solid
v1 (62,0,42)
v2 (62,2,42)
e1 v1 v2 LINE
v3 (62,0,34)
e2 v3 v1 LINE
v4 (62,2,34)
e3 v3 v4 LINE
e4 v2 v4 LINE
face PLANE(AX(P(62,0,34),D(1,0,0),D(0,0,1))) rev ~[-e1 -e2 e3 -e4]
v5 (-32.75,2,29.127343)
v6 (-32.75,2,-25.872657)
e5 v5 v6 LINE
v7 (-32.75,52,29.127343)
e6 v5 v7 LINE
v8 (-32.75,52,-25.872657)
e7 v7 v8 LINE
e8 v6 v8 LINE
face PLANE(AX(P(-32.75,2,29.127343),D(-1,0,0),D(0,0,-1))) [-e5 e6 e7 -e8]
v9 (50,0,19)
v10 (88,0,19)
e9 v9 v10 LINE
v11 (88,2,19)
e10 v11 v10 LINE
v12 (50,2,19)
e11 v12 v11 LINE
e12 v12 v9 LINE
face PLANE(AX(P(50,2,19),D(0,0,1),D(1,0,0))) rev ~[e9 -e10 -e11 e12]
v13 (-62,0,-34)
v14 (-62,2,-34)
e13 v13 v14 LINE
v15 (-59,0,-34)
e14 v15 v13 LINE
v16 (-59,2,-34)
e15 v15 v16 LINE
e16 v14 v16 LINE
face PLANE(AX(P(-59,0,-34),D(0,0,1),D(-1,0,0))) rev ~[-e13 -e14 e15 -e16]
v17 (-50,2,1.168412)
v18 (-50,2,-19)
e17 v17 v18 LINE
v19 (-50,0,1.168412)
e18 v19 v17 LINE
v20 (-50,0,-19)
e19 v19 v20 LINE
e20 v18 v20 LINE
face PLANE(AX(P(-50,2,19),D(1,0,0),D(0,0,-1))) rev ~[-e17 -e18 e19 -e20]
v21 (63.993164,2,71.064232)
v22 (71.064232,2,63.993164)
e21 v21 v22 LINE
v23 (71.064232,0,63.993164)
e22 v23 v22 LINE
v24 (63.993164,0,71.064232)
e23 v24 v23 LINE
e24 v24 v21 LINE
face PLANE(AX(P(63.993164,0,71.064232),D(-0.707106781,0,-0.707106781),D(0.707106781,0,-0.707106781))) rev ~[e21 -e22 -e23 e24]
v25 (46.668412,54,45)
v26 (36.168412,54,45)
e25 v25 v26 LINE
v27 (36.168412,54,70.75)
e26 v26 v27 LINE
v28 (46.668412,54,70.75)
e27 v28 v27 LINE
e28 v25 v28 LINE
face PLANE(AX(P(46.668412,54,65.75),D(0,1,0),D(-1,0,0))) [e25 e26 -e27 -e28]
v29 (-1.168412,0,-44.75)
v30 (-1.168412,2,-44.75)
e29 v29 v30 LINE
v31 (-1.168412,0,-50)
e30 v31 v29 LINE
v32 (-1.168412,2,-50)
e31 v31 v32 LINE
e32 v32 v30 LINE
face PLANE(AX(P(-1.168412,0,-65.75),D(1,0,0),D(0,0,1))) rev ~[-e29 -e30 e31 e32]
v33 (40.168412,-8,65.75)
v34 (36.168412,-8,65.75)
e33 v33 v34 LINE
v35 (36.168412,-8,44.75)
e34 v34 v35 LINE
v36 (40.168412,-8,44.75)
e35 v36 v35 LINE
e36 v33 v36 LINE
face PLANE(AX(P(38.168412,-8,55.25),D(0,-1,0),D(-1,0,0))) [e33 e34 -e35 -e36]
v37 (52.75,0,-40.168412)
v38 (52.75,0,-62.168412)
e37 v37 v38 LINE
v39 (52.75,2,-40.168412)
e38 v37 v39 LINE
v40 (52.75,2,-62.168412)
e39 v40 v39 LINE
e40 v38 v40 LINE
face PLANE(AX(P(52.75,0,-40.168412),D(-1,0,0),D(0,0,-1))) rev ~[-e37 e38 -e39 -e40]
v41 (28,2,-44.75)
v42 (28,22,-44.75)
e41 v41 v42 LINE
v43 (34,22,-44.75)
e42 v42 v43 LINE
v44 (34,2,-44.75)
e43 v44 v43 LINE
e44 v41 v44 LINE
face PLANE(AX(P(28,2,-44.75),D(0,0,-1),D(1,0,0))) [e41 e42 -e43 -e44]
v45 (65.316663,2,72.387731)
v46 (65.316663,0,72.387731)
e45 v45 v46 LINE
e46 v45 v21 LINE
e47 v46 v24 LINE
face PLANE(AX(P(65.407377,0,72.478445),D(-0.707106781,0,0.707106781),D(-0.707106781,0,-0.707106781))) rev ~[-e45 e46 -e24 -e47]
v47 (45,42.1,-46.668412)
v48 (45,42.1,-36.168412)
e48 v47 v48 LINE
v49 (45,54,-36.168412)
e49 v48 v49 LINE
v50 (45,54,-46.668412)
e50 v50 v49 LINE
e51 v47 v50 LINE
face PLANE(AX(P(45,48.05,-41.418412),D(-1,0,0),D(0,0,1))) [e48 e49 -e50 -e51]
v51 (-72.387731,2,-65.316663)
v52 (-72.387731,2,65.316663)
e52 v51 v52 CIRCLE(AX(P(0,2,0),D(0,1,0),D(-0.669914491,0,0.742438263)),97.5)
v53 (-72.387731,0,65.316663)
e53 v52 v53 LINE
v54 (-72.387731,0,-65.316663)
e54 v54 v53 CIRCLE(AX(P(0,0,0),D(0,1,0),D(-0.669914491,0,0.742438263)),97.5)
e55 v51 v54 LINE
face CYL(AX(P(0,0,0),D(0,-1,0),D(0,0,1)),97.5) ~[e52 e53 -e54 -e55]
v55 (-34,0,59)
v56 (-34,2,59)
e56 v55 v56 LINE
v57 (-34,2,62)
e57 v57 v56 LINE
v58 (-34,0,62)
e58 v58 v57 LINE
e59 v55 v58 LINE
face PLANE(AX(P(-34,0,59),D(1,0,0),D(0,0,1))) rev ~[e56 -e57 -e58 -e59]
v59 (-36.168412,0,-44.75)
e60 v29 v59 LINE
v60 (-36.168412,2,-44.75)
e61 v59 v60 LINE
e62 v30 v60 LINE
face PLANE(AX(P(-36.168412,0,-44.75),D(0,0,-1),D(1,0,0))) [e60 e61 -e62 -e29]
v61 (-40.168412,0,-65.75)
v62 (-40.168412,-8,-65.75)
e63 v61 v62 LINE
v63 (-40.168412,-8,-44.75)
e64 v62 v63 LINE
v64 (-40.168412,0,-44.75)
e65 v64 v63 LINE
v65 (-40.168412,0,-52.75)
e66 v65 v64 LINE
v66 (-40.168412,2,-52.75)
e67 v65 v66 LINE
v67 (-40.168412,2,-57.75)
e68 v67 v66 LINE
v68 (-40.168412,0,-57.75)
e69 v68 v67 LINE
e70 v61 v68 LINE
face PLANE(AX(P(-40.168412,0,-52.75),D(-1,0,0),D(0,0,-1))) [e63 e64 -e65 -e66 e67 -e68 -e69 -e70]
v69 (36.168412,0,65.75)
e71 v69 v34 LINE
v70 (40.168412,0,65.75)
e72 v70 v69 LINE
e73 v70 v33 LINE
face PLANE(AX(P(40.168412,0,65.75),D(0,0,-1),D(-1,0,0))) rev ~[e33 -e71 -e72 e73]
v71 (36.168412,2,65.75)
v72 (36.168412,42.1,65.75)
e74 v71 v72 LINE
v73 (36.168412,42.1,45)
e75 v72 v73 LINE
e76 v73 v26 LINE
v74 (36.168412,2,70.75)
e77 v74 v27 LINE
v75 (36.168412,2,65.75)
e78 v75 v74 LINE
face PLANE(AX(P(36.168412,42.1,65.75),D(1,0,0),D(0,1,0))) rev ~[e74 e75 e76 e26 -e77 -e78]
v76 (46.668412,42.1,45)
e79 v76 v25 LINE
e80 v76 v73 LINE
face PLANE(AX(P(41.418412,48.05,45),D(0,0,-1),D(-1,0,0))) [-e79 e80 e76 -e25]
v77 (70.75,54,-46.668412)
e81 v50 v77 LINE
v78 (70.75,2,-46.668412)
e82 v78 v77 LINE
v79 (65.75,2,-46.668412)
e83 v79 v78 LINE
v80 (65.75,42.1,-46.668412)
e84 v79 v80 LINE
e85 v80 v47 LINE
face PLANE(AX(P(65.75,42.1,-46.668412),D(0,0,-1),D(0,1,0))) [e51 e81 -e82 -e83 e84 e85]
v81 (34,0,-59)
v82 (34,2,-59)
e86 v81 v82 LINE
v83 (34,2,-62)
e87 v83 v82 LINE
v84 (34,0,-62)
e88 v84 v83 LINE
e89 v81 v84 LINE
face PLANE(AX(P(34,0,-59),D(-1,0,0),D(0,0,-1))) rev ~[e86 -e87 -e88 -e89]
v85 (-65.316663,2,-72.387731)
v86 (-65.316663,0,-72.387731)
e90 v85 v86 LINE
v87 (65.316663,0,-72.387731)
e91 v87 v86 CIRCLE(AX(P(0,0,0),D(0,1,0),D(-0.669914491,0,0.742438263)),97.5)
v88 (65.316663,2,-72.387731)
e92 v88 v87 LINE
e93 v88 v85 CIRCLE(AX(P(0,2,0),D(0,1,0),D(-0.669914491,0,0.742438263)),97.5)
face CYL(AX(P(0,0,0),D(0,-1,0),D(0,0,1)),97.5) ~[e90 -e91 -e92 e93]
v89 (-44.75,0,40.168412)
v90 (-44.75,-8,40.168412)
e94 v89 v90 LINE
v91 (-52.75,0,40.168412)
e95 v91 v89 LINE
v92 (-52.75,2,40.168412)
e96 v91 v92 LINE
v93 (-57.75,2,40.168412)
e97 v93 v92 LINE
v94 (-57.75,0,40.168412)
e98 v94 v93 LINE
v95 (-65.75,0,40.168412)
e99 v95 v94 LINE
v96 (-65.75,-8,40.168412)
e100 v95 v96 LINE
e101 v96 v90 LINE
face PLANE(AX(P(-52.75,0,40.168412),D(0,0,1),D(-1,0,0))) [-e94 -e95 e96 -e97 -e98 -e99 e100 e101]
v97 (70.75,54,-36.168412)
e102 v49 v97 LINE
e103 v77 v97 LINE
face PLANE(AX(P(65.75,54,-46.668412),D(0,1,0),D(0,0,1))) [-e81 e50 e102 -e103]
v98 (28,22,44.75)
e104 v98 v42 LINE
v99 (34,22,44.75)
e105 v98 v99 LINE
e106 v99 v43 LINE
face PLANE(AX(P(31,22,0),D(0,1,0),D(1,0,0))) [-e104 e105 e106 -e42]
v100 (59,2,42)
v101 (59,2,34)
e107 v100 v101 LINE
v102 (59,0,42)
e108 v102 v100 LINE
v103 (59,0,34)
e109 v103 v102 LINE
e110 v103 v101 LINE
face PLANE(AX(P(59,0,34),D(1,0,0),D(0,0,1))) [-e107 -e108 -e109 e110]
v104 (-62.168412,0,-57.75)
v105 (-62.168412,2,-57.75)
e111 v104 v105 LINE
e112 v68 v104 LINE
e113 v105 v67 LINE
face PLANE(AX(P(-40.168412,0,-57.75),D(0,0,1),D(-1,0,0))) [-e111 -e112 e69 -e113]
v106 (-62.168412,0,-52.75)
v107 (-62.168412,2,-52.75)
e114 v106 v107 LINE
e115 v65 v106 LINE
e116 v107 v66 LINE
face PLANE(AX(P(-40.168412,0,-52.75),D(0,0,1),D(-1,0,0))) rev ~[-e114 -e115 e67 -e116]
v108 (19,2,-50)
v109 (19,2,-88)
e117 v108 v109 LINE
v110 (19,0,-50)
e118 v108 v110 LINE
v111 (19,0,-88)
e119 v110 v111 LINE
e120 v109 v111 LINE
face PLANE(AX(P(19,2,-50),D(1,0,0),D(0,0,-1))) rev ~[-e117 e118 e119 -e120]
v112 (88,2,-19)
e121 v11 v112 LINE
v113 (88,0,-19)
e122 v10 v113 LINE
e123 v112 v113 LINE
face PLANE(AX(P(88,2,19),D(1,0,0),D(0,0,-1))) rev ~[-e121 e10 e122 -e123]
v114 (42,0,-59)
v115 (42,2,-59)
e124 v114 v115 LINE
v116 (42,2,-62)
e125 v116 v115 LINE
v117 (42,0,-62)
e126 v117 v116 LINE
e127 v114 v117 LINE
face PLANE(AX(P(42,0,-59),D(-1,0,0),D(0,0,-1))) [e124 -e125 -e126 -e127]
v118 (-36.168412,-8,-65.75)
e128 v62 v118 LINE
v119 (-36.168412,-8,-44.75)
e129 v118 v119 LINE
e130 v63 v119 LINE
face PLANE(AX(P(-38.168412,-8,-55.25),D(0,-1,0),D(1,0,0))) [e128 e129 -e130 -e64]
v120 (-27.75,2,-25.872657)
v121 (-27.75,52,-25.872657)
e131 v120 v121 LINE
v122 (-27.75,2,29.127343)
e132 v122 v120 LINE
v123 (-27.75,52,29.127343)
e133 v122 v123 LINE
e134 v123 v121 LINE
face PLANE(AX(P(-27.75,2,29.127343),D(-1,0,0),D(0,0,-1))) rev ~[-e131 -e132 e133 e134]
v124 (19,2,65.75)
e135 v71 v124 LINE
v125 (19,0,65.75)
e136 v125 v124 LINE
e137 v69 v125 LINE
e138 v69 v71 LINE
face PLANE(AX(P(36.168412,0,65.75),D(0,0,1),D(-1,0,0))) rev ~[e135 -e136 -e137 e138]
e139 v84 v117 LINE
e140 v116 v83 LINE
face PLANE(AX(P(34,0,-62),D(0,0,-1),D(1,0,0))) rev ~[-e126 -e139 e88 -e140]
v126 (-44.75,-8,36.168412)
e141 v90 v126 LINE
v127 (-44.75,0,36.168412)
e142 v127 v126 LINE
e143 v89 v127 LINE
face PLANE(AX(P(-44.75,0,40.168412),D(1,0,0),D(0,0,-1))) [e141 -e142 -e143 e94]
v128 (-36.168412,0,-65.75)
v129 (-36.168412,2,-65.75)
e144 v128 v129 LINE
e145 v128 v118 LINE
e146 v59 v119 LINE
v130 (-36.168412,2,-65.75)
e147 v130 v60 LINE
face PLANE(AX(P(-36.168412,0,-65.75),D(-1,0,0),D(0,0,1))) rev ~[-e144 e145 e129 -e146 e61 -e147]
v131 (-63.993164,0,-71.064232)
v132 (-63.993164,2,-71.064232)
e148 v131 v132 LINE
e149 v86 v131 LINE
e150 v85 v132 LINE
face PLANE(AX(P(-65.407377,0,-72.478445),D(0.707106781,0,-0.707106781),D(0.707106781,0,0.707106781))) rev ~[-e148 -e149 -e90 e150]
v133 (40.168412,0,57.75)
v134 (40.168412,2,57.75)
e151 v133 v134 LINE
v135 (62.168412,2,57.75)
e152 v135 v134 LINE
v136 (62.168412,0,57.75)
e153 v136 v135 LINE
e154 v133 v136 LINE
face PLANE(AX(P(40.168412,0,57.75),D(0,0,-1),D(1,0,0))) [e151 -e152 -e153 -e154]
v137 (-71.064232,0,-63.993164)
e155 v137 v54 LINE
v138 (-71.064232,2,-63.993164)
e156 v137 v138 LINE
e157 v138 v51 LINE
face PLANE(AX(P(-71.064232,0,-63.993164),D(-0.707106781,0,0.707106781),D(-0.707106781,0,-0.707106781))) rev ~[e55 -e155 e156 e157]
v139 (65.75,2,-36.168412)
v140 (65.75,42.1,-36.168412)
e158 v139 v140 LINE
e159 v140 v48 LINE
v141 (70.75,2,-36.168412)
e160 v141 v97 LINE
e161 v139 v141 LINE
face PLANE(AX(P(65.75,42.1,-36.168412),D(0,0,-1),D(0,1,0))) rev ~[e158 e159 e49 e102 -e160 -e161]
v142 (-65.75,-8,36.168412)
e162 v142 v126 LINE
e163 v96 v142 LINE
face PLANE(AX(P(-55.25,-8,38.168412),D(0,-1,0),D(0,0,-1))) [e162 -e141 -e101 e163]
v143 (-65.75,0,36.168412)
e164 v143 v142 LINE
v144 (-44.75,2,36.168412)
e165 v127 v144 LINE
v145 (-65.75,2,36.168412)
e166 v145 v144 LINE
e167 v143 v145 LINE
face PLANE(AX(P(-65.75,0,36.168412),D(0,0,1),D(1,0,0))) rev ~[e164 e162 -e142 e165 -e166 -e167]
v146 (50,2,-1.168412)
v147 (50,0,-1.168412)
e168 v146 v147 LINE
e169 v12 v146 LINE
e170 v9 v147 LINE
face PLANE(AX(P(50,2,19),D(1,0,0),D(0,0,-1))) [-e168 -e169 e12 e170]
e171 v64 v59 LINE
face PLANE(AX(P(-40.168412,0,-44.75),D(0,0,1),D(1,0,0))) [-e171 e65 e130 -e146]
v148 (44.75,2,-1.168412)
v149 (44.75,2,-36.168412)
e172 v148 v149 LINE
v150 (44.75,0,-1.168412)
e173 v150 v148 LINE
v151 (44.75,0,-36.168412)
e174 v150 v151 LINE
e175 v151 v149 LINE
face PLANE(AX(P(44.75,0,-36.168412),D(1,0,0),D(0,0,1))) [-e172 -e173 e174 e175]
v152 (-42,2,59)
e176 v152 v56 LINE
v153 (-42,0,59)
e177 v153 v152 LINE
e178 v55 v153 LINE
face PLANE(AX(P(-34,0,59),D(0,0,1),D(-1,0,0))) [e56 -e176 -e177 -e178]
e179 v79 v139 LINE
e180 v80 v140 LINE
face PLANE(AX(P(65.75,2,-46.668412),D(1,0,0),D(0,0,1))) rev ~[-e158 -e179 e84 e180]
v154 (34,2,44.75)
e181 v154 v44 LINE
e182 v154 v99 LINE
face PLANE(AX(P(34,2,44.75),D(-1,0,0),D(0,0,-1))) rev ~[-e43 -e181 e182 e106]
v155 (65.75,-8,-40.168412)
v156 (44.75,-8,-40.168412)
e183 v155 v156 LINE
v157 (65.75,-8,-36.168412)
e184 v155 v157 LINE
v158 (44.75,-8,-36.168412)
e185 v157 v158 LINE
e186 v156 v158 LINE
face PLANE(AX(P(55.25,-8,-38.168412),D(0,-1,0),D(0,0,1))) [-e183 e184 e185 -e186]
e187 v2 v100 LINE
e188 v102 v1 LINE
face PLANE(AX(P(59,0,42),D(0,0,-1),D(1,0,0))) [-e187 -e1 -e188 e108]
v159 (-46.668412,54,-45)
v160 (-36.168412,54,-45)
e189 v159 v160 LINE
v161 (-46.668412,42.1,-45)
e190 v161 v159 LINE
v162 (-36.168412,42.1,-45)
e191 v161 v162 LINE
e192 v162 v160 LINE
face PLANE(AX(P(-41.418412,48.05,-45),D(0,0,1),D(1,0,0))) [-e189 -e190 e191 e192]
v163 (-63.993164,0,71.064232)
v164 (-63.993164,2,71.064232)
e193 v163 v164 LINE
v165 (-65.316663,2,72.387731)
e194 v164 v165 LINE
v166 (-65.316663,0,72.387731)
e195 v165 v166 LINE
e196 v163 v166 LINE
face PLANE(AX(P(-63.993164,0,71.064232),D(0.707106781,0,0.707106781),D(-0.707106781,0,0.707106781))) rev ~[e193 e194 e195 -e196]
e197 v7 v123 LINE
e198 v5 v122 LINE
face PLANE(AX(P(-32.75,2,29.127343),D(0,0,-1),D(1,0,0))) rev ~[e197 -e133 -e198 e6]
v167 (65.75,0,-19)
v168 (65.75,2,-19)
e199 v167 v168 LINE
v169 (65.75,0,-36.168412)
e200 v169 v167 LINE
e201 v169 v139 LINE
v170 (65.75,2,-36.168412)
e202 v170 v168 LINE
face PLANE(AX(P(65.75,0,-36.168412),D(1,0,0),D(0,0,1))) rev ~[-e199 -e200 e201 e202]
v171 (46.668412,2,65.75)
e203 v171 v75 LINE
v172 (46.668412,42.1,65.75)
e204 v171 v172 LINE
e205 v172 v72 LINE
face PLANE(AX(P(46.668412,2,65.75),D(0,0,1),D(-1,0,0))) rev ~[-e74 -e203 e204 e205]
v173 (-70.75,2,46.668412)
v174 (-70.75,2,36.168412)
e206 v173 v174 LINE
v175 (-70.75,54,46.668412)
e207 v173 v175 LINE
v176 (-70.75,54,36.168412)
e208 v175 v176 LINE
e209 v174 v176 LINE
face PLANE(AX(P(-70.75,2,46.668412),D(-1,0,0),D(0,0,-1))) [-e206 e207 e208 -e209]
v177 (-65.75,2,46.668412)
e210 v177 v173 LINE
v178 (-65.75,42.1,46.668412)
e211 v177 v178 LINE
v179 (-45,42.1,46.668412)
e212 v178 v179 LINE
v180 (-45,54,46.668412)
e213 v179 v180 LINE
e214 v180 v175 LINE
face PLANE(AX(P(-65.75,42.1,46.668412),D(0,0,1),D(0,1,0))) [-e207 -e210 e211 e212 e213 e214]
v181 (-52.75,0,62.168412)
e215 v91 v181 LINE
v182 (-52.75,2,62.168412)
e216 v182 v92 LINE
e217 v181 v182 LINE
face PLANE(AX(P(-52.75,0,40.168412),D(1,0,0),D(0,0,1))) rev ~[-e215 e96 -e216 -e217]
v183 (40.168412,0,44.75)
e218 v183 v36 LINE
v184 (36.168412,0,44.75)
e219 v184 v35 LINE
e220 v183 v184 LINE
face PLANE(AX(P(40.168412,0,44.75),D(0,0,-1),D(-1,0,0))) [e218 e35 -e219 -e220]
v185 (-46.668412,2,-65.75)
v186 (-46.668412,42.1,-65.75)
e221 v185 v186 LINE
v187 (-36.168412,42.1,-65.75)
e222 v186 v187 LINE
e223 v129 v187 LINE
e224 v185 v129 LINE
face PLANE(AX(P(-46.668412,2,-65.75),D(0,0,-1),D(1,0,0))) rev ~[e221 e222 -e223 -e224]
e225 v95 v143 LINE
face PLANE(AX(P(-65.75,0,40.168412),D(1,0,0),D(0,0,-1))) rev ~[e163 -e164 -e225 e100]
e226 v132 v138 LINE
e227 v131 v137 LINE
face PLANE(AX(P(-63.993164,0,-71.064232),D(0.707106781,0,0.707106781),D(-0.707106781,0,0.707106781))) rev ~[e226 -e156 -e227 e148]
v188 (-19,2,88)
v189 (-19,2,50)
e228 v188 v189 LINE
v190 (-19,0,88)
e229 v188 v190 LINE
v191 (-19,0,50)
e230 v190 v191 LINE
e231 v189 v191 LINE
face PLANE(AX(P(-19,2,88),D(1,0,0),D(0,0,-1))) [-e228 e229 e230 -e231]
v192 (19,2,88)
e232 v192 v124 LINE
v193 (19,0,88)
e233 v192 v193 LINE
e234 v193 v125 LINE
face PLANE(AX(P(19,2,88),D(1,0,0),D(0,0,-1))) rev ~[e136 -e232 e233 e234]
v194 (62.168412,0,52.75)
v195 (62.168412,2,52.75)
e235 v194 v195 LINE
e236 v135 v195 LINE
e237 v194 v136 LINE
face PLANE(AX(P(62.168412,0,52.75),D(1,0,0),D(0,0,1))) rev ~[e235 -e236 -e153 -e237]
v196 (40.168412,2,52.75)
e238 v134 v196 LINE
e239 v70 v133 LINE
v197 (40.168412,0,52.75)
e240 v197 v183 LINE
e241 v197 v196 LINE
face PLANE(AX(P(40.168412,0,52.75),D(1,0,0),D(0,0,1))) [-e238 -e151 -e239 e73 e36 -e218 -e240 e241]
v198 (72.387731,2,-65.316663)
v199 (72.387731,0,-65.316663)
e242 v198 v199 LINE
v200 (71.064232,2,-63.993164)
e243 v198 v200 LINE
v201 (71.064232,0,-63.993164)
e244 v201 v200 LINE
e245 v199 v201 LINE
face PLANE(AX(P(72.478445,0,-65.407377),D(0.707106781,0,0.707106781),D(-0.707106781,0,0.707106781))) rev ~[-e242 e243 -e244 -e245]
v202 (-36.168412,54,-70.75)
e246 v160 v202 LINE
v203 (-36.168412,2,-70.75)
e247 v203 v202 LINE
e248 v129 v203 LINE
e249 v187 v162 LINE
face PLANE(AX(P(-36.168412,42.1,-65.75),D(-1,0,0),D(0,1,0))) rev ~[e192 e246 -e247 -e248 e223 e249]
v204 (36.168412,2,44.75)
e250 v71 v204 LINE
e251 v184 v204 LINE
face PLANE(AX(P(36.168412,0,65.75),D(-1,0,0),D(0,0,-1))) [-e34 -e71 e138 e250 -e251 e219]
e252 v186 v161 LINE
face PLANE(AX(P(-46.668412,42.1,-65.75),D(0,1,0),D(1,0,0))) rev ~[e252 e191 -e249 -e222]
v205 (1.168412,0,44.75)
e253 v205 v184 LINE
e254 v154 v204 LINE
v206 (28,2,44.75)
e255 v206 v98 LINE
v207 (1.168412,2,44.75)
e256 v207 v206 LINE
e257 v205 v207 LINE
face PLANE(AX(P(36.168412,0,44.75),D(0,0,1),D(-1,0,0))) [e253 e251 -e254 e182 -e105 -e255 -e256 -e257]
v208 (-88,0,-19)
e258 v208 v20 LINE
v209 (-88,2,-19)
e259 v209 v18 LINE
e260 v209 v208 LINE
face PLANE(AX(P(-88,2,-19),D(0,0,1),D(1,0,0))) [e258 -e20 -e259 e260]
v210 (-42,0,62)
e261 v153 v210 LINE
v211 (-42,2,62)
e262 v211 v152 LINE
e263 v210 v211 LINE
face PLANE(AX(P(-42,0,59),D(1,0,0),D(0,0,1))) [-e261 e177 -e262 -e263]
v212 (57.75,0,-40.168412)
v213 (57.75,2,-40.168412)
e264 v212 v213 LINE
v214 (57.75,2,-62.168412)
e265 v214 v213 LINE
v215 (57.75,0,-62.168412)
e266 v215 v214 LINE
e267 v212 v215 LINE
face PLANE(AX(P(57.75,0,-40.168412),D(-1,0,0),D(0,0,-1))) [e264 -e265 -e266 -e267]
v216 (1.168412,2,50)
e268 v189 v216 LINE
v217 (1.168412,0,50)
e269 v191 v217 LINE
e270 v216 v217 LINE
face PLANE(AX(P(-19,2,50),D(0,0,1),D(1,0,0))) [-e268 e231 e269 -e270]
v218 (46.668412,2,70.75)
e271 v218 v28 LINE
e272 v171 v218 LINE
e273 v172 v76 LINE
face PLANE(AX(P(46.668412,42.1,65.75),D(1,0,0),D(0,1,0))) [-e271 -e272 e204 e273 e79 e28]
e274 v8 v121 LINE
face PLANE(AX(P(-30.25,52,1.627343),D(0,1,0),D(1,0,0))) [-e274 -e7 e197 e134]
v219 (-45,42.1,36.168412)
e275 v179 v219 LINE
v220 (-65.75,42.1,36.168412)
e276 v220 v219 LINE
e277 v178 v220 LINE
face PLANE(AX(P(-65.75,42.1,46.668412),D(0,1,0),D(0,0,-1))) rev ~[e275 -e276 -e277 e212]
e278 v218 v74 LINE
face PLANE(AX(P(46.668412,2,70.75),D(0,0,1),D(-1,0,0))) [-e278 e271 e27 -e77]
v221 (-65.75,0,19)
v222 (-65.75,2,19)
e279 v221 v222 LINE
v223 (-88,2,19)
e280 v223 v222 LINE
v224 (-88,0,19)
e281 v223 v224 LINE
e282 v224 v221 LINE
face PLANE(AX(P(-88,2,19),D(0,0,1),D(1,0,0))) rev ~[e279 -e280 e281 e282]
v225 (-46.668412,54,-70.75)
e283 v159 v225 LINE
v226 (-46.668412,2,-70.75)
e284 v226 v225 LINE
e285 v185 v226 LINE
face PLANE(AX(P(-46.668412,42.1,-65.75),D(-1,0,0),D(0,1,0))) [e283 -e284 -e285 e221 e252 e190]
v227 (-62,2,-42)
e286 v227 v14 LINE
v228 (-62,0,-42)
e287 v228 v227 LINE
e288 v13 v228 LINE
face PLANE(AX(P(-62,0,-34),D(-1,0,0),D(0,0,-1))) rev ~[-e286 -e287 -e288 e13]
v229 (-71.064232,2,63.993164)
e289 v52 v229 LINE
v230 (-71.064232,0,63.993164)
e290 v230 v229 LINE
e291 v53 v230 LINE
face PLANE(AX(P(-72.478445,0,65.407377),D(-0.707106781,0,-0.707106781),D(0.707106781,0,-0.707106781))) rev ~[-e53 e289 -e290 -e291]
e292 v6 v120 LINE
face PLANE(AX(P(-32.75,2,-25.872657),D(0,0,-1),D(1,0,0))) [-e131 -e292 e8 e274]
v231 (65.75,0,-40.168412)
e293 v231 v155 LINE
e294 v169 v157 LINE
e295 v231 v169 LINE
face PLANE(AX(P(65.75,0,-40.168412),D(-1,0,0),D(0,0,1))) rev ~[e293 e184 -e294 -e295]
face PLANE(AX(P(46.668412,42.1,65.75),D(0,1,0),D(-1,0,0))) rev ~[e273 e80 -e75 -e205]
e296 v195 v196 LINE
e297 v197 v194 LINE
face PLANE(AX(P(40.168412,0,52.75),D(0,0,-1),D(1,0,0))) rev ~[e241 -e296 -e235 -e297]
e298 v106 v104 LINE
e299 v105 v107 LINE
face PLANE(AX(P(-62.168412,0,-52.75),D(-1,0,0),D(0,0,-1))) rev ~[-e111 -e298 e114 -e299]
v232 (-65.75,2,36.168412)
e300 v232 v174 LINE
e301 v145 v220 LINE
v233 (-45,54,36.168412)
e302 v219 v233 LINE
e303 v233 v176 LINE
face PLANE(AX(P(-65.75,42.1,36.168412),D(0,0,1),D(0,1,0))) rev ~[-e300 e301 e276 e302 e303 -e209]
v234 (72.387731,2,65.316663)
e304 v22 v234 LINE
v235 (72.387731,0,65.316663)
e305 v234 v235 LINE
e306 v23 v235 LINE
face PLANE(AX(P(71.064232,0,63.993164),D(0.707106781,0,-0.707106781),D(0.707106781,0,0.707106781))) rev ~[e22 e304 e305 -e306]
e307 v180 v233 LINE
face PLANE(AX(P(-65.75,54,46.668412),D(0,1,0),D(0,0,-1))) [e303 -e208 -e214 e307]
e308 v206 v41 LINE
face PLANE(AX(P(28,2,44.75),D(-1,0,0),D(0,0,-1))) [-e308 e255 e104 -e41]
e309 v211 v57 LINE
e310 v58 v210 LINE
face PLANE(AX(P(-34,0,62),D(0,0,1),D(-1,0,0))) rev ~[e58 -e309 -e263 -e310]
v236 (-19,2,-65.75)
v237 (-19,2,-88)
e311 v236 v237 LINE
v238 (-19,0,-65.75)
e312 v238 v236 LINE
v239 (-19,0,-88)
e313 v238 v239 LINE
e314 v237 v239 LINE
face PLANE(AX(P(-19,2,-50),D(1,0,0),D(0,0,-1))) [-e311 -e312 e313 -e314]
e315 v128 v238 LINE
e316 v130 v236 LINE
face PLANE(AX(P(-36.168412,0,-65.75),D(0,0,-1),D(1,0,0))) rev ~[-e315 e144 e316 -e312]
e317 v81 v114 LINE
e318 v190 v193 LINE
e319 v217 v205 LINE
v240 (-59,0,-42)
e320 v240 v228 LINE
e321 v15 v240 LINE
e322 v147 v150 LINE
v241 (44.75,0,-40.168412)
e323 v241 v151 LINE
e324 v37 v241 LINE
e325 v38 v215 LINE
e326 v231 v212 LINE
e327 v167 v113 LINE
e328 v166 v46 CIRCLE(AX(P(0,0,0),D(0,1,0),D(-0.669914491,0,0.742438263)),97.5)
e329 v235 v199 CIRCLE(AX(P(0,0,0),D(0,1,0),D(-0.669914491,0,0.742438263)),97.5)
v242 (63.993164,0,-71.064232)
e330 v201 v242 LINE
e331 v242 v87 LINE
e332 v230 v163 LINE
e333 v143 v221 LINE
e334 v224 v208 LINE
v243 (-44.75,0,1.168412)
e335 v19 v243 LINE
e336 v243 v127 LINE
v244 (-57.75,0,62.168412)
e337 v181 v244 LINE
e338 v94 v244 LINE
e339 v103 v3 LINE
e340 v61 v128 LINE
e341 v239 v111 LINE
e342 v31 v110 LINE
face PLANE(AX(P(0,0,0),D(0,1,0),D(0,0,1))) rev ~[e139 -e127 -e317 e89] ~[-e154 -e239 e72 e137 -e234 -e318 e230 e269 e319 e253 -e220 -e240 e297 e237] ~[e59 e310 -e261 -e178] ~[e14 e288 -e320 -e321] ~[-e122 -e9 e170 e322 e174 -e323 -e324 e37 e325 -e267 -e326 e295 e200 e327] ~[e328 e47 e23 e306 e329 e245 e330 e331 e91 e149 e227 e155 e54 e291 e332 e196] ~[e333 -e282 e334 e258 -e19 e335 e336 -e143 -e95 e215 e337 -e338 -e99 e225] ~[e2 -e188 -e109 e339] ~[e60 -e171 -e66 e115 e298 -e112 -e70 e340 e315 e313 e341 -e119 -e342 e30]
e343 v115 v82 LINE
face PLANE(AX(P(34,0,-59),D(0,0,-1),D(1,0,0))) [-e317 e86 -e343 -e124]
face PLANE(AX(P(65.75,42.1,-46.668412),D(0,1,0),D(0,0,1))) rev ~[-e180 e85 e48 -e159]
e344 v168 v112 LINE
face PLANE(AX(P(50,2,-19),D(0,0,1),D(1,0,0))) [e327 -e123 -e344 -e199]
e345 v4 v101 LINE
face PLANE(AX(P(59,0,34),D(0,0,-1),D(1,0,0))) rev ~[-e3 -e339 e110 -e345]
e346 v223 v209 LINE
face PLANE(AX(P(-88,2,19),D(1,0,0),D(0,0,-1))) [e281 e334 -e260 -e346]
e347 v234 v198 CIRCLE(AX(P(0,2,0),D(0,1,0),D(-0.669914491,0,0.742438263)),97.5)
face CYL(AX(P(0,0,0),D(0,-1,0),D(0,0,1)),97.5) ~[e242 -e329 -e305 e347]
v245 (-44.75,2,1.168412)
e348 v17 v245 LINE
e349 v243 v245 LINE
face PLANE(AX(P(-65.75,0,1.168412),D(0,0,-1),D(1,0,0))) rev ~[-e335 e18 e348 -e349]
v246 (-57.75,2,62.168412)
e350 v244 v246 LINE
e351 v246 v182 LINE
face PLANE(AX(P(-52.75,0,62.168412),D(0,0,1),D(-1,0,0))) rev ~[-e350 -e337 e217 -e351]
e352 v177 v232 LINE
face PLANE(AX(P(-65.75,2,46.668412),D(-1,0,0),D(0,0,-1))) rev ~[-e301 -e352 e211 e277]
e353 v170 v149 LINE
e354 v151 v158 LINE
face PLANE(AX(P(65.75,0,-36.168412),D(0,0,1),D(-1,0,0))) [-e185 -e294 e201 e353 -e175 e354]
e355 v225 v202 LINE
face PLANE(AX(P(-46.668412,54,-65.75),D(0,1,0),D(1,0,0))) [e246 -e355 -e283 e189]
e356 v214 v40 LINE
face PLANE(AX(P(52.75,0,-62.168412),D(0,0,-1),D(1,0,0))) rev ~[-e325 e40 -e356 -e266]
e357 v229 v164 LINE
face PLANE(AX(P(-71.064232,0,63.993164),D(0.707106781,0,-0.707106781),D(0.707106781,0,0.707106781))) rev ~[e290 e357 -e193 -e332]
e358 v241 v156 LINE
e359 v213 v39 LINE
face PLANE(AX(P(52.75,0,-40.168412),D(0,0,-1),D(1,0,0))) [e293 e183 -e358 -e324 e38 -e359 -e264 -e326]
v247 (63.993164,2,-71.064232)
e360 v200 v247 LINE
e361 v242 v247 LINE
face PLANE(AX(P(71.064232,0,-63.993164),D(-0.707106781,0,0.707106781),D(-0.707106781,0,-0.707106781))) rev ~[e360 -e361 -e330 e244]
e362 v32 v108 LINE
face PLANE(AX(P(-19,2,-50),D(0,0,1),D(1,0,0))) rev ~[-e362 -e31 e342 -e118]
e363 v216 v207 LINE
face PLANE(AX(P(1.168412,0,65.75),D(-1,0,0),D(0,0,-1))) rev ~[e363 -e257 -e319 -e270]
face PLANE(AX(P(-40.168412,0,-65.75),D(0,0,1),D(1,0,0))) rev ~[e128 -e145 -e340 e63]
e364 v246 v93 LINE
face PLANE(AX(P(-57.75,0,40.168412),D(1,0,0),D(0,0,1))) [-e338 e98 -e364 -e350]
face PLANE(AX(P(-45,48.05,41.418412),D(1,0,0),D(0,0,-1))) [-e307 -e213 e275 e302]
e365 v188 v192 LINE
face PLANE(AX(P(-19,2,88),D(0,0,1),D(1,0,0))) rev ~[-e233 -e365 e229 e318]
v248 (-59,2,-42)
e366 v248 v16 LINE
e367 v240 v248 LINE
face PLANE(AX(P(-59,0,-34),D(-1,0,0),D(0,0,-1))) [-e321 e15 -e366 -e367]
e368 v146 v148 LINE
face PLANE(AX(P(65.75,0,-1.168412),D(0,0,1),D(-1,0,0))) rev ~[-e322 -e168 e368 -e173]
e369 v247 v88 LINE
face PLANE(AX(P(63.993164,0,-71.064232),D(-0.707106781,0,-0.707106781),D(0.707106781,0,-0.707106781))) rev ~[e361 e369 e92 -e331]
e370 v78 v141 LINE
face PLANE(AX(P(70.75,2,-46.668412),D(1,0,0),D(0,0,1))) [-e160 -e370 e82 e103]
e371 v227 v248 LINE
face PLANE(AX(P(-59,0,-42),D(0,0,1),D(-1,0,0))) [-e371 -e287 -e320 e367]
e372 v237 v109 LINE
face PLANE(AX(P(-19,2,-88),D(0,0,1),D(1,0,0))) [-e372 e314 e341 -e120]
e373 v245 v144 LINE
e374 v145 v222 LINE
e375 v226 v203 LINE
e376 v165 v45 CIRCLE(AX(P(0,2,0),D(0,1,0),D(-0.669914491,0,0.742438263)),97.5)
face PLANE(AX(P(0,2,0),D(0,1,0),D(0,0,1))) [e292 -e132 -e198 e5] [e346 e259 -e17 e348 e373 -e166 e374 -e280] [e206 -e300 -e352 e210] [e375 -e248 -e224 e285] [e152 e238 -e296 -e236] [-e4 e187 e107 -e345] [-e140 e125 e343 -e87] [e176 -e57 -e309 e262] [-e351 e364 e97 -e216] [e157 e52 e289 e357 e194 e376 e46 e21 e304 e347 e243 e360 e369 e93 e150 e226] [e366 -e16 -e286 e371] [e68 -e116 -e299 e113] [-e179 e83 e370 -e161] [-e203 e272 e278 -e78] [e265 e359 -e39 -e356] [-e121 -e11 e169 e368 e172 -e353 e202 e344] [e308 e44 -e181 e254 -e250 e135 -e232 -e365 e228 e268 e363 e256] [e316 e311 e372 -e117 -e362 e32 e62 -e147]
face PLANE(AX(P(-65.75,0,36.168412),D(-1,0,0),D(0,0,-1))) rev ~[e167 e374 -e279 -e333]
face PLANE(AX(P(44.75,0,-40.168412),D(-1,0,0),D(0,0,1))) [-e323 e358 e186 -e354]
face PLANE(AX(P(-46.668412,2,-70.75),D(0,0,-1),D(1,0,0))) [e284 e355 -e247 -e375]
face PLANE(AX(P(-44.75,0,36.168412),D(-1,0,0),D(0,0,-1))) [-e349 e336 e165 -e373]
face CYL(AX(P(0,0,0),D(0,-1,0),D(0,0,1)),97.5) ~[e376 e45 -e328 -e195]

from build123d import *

# Parameters (mm, degrees)
SKETCH1_R                           = 97.5
PLATE_DEPTH                         = 2
SKETCH2_W                           = 38
SKETCH2_H                           = 38
FIN_CLEARANCES_DEPTH                = 2
SKETCH3_W                           = 17.168411885
SKETCH3_H                           = 21
SERVO_CLEARANCE_DEPTH               = 2
SKETCH4_W                           = 4
SKETCH4_H                           = 21
SERVO_LIP_BOTTOM_DEPTH              = 8
SKETCH5_W                           = 10.5
SKETCH5_H                           = 5
SERVO_LIP_TOP_EXTRUSION_DEPTH       = 52
SKETCH6_W                           = 10.5
SKETCH6_H                           = 11.9
SERVO_LIP_TOP_DEPTH                 = 20.75
SKETCH7_W                           = 35
SKETCH7_H                           = 21
SERVO_CLEARANCE_FOR_INSERTION_DEPTH = 2
F_4_SERVO_LIP_EXTRUSIONS_COUNT      = 4
SKETCH8_W                           = 10.5
SKETCH8_H                           = 11.9
BOSS_EXTRUDE6_DEPTH                 = 20.75
SKETCH9_W                           = 10.5
SKETCH9_H                           = 11.9
BOSS_EXTRUDE7_DEPTH                 = 20.75
SKETCH10_W                          = 10.5
SKETCH10_H                          = 11.9
BOSS_EXTRUDE8_DEPTH                 = 20.75
SKETCH11_W                          = 5
SKETCH11_H                          = 55
EBOX_LID_SUPPORT_DEPTH              = 50
CUT_EXTRUDE4_DEPTH                  = 2
CLIP_CLEARANCES_COUNT               = 4
SKETCH13_W                          = 6
SKETCH13_H                          = 89.5
EBOX_BOTTOM_SUPPORT_DEPTH           = 20
SKETCH14_W                          = 22
SKETCH14_H                          = 5
SKETCH14_W_2                        = 3
SKETCH14_H_2                        = 8
CUT_EXTRUDE5_DEPTH                  = 10
CIRPATTERN1_COUNT                   = 4


with BuildPart() as part:
    # Sketch1 → Plate (new body)
    with BuildSketch(Plane(origin=(0, 0, 0), x_dir=(1, 0, 0), z_dir=(0, 1, 0))):
        with Locations(Location((0, 0, 0), (0, 0, 270))):
            Circle(SKETCH1_R)
    extrude(amount=PLATE_DEPTH)

    # Sketch2 → Fin Clearances (cut)
    with BuildSketch(Plane(origin=(0, 2, 0), x_dir=(1, 0, 0), z_dir=(0, 1, 0))):
        with Locations((69, 0)):
            Rectangle(SKETCH2_W, SKETCH2_H)
        with Locations((0, 69)):
            Rectangle(SKETCH2_W, SKETCH2_H)
        with Locations((0, -69)):
            Rectangle(SKETCH2_W, SKETCH2_H)
        with Locations((-69, 0)):
            Rectangle(SKETCH2_W, SKETCH2_H)
    extrude(amount=-FIN_CLEARANCES_DEPTH, mode=Mode.SUBTRACT)

    # Sketch3 → Servo Clearance (cut)
    with BuildSketch(Plane.XZ):
        with Locations((-27.584205943, -55.25)):
            Rectangle(SKETCH3_W, SKETCH3_H)
    servo_clearance = extrude(amount=-SERVO_CLEARANCE_DEPTH, mode=Mode.SUBTRACT)

    # Sketch4 → Servo Lip - Bottom (add)
    with BuildSketch(Plane.XZ):
        with Locations((-38.168411885, -55.25)):
            Rectangle(SKETCH4_W, SKETCH4_H)
    servo_lip_bottom = extrude(amount=SERVO_LIP_BOTTOM_DEPTH)

    # Sketch5 → Servo Lip - Top Extrusion (add)
    with BuildSketch(Plane(origin=(0, 2, 0), x_dir=(1, 0, 0), z_dir=(0, 1, 0))):
        with Locations((-41.418411885, 68.25)):
            Rectangle(SKETCH5_W, SKETCH5_H)
    servo_lip_top_extrusion = extrude(amount=SERVO_LIP_TOP_EXTRUSION_DEPTH)

    # Sketch6 → Servo Lip - Top (add)
    with BuildSketch(Plane.XY.offset(-65.75)):
        with Locations((-41.418411885, 48.05)):
            Rectangle(SKETCH6_W, SKETCH6_H)
    extrude(amount=SERVO_LIP_TOP_DEPTH)

    # Sketch7 → Servo Clearance for Insertion (cut)
    with BuildSketch(Plane.XZ):
        with Locations((-18.668411885, -55.25)):
            Rectangle(SKETCH7_W, SKETCH7_H)
    servo_clearance_for_insertion = extrude(amount=-SERVO_CLEARANCE_FOR_INSERTION_DEPTH, mode=Mode.SUBTRACT)

    # 4 Servo Lip Extrusions: Servo Clearance, Servo Lip - Bottom, Servo Lip - Top Extrusion, Servo Clearance for Insertion ×4 about axis
    f_4_servo_lip_extrusions_axis = Axis((0, 0, 0), (0, 1, 0))
    add([servo_clearance.rotate(f_4_servo_lip_extrusions_axis, i * 360 / F_4_SERVO_LIP_EXTRUSIONS_COUNT) for i in range(1, F_4_SERVO_LIP_EXTRUSIONS_COUNT)], mode=Mode.SUBTRACT)
    add([servo_lip_bottom.rotate(f_4_servo_lip_extrusions_axis, i * 360 / F_4_SERVO_LIP_EXTRUSIONS_COUNT) for i in range(1, F_4_SERVO_LIP_EXTRUSIONS_COUNT)])
    add([servo_lip_top_extrusion.rotate(f_4_servo_lip_extrusions_axis, i * 360 / F_4_SERVO_LIP_EXTRUSIONS_COUNT) for i in range(1, F_4_SERVO_LIP_EXTRUSIONS_COUNT)])
    add([servo_clearance_for_insertion.rotate(f_4_servo_lip_extrusions_axis, i * 360 / F_4_SERVO_LIP_EXTRUSIONS_COUNT) for i in range(1, F_4_SERVO_LIP_EXTRUSIONS_COUNT)], mode=Mode.SUBTRACT)

    # Sketch8 → Boss-Extrude6 (add)
    with BuildSketch(Plane(origin=(-65.75, 0, 0), x_dir=(0, 0, -1), z_dir=(1, 0, 0))):
        with Locations((-41.418411885, 48.05)):
            Rectangle(SKETCH8_W, SKETCH8_H)
    extrude(amount=BOSS_EXTRUDE6_DEPTH)

    # Sketch9 → Boss-Extrude7 (add)
    with BuildSketch(Plane(origin=(0, 0, 65.75), x_dir=(-1, 0, 0), z_dir=(0, 0, -1))):
        with Locations((-41.418411885, 48.05)):
            Rectangle(SKETCH9_W, SKETCH9_H)
    extrude(amount=BOSS_EXTRUDE7_DEPTH)

    # Sketch10 → Boss-Extrude8 (add)
    with BuildSketch(Plane.ZY.offset(-65.75)):
        with Locations((-41.418411885, 48.05)):
            Rectangle(SKETCH10_W, SKETCH10_H)
    extrude(amount=BOSS_EXTRUDE8_DEPTH)

    # Sketch11 → EBox Lid Support (add)
    with BuildSketch(Plane(origin=(0, 2, 0), x_dir=(1, 0, 0), z_dir=(0, 1, 0))):
        with Locations((-30.25, -1.627343475)):
            Rectangle(SKETCH11_W, SKETCH11_H)
    extrude(amount=EBOX_LID_SUPPORT_DEPTH)

    # Sketch12 → Cut-Extrude4 (cut)
    with BuildSketch(Plane.XZ):
        Polygon((-71.064231509, 63.993163697), (-63.993163697, 71.064231509), (-65.40737726, 72.478445072), (-72.478445072, 65.40737726), align=None)
    cut_extrude4 = extrude(amount=-CUT_EXTRUDE4_DEPTH, mode=Mode.SUBTRACT)

    # Clip Clearances: Cut-Extrude4 ×4 about axis
    clip_clearances_axis = Axis((0, 0, 0), (0, 1, 0))
    for i in range(1, CLIP_CLEARANCES_COUNT):
        add(cut_extrude4.rotate(clip_clearances_axis, i * 360 / CLIP_CLEARANCES_COUNT), mode=Mode.SUBTRACT)

    # Sketch13 → EBox Bottom Support (add)
    with BuildSketch(Plane(origin=(0, 2, 0), x_dir=(1, 0, 0), z_dir=(0, 1, 0))):
        with Locations((31, 0)):
            Rectangle(SKETCH13_W, SKETCH13_H)
    extrude(amount=EBOX_BOTTOM_SUPPORT_DEPTH)

    # Sketch14 → Cut-Extrude5 (cut)
    with BuildSketch(Plane.XZ):
        with Locations((51.168411885, 55.25)):
            Rectangle(SKETCH14_W, SKETCH14_H)
        with Locations((60.5, 38)):
            Rectangle(SKETCH14_W_2, SKETCH14_H_2)
    cut_extrude5 = extrude(amount=-CUT_EXTRUDE5_DEPTH, mode=Mode.SUBTRACT)

    # CirPattern1: Cut-Extrude5 ×4 about axis
    cirpattern1_axis = Axis((0, 0, 0), (0, 1, 0))
    for i in range(1, CIRPATTERN1_COUNT):
        add(cut_extrude5.rotate(cirpattern1_axis, i * 360 / CIRPATTERN1_COUNT), mode=Mode.SUBTRACT)


solid = part.part
